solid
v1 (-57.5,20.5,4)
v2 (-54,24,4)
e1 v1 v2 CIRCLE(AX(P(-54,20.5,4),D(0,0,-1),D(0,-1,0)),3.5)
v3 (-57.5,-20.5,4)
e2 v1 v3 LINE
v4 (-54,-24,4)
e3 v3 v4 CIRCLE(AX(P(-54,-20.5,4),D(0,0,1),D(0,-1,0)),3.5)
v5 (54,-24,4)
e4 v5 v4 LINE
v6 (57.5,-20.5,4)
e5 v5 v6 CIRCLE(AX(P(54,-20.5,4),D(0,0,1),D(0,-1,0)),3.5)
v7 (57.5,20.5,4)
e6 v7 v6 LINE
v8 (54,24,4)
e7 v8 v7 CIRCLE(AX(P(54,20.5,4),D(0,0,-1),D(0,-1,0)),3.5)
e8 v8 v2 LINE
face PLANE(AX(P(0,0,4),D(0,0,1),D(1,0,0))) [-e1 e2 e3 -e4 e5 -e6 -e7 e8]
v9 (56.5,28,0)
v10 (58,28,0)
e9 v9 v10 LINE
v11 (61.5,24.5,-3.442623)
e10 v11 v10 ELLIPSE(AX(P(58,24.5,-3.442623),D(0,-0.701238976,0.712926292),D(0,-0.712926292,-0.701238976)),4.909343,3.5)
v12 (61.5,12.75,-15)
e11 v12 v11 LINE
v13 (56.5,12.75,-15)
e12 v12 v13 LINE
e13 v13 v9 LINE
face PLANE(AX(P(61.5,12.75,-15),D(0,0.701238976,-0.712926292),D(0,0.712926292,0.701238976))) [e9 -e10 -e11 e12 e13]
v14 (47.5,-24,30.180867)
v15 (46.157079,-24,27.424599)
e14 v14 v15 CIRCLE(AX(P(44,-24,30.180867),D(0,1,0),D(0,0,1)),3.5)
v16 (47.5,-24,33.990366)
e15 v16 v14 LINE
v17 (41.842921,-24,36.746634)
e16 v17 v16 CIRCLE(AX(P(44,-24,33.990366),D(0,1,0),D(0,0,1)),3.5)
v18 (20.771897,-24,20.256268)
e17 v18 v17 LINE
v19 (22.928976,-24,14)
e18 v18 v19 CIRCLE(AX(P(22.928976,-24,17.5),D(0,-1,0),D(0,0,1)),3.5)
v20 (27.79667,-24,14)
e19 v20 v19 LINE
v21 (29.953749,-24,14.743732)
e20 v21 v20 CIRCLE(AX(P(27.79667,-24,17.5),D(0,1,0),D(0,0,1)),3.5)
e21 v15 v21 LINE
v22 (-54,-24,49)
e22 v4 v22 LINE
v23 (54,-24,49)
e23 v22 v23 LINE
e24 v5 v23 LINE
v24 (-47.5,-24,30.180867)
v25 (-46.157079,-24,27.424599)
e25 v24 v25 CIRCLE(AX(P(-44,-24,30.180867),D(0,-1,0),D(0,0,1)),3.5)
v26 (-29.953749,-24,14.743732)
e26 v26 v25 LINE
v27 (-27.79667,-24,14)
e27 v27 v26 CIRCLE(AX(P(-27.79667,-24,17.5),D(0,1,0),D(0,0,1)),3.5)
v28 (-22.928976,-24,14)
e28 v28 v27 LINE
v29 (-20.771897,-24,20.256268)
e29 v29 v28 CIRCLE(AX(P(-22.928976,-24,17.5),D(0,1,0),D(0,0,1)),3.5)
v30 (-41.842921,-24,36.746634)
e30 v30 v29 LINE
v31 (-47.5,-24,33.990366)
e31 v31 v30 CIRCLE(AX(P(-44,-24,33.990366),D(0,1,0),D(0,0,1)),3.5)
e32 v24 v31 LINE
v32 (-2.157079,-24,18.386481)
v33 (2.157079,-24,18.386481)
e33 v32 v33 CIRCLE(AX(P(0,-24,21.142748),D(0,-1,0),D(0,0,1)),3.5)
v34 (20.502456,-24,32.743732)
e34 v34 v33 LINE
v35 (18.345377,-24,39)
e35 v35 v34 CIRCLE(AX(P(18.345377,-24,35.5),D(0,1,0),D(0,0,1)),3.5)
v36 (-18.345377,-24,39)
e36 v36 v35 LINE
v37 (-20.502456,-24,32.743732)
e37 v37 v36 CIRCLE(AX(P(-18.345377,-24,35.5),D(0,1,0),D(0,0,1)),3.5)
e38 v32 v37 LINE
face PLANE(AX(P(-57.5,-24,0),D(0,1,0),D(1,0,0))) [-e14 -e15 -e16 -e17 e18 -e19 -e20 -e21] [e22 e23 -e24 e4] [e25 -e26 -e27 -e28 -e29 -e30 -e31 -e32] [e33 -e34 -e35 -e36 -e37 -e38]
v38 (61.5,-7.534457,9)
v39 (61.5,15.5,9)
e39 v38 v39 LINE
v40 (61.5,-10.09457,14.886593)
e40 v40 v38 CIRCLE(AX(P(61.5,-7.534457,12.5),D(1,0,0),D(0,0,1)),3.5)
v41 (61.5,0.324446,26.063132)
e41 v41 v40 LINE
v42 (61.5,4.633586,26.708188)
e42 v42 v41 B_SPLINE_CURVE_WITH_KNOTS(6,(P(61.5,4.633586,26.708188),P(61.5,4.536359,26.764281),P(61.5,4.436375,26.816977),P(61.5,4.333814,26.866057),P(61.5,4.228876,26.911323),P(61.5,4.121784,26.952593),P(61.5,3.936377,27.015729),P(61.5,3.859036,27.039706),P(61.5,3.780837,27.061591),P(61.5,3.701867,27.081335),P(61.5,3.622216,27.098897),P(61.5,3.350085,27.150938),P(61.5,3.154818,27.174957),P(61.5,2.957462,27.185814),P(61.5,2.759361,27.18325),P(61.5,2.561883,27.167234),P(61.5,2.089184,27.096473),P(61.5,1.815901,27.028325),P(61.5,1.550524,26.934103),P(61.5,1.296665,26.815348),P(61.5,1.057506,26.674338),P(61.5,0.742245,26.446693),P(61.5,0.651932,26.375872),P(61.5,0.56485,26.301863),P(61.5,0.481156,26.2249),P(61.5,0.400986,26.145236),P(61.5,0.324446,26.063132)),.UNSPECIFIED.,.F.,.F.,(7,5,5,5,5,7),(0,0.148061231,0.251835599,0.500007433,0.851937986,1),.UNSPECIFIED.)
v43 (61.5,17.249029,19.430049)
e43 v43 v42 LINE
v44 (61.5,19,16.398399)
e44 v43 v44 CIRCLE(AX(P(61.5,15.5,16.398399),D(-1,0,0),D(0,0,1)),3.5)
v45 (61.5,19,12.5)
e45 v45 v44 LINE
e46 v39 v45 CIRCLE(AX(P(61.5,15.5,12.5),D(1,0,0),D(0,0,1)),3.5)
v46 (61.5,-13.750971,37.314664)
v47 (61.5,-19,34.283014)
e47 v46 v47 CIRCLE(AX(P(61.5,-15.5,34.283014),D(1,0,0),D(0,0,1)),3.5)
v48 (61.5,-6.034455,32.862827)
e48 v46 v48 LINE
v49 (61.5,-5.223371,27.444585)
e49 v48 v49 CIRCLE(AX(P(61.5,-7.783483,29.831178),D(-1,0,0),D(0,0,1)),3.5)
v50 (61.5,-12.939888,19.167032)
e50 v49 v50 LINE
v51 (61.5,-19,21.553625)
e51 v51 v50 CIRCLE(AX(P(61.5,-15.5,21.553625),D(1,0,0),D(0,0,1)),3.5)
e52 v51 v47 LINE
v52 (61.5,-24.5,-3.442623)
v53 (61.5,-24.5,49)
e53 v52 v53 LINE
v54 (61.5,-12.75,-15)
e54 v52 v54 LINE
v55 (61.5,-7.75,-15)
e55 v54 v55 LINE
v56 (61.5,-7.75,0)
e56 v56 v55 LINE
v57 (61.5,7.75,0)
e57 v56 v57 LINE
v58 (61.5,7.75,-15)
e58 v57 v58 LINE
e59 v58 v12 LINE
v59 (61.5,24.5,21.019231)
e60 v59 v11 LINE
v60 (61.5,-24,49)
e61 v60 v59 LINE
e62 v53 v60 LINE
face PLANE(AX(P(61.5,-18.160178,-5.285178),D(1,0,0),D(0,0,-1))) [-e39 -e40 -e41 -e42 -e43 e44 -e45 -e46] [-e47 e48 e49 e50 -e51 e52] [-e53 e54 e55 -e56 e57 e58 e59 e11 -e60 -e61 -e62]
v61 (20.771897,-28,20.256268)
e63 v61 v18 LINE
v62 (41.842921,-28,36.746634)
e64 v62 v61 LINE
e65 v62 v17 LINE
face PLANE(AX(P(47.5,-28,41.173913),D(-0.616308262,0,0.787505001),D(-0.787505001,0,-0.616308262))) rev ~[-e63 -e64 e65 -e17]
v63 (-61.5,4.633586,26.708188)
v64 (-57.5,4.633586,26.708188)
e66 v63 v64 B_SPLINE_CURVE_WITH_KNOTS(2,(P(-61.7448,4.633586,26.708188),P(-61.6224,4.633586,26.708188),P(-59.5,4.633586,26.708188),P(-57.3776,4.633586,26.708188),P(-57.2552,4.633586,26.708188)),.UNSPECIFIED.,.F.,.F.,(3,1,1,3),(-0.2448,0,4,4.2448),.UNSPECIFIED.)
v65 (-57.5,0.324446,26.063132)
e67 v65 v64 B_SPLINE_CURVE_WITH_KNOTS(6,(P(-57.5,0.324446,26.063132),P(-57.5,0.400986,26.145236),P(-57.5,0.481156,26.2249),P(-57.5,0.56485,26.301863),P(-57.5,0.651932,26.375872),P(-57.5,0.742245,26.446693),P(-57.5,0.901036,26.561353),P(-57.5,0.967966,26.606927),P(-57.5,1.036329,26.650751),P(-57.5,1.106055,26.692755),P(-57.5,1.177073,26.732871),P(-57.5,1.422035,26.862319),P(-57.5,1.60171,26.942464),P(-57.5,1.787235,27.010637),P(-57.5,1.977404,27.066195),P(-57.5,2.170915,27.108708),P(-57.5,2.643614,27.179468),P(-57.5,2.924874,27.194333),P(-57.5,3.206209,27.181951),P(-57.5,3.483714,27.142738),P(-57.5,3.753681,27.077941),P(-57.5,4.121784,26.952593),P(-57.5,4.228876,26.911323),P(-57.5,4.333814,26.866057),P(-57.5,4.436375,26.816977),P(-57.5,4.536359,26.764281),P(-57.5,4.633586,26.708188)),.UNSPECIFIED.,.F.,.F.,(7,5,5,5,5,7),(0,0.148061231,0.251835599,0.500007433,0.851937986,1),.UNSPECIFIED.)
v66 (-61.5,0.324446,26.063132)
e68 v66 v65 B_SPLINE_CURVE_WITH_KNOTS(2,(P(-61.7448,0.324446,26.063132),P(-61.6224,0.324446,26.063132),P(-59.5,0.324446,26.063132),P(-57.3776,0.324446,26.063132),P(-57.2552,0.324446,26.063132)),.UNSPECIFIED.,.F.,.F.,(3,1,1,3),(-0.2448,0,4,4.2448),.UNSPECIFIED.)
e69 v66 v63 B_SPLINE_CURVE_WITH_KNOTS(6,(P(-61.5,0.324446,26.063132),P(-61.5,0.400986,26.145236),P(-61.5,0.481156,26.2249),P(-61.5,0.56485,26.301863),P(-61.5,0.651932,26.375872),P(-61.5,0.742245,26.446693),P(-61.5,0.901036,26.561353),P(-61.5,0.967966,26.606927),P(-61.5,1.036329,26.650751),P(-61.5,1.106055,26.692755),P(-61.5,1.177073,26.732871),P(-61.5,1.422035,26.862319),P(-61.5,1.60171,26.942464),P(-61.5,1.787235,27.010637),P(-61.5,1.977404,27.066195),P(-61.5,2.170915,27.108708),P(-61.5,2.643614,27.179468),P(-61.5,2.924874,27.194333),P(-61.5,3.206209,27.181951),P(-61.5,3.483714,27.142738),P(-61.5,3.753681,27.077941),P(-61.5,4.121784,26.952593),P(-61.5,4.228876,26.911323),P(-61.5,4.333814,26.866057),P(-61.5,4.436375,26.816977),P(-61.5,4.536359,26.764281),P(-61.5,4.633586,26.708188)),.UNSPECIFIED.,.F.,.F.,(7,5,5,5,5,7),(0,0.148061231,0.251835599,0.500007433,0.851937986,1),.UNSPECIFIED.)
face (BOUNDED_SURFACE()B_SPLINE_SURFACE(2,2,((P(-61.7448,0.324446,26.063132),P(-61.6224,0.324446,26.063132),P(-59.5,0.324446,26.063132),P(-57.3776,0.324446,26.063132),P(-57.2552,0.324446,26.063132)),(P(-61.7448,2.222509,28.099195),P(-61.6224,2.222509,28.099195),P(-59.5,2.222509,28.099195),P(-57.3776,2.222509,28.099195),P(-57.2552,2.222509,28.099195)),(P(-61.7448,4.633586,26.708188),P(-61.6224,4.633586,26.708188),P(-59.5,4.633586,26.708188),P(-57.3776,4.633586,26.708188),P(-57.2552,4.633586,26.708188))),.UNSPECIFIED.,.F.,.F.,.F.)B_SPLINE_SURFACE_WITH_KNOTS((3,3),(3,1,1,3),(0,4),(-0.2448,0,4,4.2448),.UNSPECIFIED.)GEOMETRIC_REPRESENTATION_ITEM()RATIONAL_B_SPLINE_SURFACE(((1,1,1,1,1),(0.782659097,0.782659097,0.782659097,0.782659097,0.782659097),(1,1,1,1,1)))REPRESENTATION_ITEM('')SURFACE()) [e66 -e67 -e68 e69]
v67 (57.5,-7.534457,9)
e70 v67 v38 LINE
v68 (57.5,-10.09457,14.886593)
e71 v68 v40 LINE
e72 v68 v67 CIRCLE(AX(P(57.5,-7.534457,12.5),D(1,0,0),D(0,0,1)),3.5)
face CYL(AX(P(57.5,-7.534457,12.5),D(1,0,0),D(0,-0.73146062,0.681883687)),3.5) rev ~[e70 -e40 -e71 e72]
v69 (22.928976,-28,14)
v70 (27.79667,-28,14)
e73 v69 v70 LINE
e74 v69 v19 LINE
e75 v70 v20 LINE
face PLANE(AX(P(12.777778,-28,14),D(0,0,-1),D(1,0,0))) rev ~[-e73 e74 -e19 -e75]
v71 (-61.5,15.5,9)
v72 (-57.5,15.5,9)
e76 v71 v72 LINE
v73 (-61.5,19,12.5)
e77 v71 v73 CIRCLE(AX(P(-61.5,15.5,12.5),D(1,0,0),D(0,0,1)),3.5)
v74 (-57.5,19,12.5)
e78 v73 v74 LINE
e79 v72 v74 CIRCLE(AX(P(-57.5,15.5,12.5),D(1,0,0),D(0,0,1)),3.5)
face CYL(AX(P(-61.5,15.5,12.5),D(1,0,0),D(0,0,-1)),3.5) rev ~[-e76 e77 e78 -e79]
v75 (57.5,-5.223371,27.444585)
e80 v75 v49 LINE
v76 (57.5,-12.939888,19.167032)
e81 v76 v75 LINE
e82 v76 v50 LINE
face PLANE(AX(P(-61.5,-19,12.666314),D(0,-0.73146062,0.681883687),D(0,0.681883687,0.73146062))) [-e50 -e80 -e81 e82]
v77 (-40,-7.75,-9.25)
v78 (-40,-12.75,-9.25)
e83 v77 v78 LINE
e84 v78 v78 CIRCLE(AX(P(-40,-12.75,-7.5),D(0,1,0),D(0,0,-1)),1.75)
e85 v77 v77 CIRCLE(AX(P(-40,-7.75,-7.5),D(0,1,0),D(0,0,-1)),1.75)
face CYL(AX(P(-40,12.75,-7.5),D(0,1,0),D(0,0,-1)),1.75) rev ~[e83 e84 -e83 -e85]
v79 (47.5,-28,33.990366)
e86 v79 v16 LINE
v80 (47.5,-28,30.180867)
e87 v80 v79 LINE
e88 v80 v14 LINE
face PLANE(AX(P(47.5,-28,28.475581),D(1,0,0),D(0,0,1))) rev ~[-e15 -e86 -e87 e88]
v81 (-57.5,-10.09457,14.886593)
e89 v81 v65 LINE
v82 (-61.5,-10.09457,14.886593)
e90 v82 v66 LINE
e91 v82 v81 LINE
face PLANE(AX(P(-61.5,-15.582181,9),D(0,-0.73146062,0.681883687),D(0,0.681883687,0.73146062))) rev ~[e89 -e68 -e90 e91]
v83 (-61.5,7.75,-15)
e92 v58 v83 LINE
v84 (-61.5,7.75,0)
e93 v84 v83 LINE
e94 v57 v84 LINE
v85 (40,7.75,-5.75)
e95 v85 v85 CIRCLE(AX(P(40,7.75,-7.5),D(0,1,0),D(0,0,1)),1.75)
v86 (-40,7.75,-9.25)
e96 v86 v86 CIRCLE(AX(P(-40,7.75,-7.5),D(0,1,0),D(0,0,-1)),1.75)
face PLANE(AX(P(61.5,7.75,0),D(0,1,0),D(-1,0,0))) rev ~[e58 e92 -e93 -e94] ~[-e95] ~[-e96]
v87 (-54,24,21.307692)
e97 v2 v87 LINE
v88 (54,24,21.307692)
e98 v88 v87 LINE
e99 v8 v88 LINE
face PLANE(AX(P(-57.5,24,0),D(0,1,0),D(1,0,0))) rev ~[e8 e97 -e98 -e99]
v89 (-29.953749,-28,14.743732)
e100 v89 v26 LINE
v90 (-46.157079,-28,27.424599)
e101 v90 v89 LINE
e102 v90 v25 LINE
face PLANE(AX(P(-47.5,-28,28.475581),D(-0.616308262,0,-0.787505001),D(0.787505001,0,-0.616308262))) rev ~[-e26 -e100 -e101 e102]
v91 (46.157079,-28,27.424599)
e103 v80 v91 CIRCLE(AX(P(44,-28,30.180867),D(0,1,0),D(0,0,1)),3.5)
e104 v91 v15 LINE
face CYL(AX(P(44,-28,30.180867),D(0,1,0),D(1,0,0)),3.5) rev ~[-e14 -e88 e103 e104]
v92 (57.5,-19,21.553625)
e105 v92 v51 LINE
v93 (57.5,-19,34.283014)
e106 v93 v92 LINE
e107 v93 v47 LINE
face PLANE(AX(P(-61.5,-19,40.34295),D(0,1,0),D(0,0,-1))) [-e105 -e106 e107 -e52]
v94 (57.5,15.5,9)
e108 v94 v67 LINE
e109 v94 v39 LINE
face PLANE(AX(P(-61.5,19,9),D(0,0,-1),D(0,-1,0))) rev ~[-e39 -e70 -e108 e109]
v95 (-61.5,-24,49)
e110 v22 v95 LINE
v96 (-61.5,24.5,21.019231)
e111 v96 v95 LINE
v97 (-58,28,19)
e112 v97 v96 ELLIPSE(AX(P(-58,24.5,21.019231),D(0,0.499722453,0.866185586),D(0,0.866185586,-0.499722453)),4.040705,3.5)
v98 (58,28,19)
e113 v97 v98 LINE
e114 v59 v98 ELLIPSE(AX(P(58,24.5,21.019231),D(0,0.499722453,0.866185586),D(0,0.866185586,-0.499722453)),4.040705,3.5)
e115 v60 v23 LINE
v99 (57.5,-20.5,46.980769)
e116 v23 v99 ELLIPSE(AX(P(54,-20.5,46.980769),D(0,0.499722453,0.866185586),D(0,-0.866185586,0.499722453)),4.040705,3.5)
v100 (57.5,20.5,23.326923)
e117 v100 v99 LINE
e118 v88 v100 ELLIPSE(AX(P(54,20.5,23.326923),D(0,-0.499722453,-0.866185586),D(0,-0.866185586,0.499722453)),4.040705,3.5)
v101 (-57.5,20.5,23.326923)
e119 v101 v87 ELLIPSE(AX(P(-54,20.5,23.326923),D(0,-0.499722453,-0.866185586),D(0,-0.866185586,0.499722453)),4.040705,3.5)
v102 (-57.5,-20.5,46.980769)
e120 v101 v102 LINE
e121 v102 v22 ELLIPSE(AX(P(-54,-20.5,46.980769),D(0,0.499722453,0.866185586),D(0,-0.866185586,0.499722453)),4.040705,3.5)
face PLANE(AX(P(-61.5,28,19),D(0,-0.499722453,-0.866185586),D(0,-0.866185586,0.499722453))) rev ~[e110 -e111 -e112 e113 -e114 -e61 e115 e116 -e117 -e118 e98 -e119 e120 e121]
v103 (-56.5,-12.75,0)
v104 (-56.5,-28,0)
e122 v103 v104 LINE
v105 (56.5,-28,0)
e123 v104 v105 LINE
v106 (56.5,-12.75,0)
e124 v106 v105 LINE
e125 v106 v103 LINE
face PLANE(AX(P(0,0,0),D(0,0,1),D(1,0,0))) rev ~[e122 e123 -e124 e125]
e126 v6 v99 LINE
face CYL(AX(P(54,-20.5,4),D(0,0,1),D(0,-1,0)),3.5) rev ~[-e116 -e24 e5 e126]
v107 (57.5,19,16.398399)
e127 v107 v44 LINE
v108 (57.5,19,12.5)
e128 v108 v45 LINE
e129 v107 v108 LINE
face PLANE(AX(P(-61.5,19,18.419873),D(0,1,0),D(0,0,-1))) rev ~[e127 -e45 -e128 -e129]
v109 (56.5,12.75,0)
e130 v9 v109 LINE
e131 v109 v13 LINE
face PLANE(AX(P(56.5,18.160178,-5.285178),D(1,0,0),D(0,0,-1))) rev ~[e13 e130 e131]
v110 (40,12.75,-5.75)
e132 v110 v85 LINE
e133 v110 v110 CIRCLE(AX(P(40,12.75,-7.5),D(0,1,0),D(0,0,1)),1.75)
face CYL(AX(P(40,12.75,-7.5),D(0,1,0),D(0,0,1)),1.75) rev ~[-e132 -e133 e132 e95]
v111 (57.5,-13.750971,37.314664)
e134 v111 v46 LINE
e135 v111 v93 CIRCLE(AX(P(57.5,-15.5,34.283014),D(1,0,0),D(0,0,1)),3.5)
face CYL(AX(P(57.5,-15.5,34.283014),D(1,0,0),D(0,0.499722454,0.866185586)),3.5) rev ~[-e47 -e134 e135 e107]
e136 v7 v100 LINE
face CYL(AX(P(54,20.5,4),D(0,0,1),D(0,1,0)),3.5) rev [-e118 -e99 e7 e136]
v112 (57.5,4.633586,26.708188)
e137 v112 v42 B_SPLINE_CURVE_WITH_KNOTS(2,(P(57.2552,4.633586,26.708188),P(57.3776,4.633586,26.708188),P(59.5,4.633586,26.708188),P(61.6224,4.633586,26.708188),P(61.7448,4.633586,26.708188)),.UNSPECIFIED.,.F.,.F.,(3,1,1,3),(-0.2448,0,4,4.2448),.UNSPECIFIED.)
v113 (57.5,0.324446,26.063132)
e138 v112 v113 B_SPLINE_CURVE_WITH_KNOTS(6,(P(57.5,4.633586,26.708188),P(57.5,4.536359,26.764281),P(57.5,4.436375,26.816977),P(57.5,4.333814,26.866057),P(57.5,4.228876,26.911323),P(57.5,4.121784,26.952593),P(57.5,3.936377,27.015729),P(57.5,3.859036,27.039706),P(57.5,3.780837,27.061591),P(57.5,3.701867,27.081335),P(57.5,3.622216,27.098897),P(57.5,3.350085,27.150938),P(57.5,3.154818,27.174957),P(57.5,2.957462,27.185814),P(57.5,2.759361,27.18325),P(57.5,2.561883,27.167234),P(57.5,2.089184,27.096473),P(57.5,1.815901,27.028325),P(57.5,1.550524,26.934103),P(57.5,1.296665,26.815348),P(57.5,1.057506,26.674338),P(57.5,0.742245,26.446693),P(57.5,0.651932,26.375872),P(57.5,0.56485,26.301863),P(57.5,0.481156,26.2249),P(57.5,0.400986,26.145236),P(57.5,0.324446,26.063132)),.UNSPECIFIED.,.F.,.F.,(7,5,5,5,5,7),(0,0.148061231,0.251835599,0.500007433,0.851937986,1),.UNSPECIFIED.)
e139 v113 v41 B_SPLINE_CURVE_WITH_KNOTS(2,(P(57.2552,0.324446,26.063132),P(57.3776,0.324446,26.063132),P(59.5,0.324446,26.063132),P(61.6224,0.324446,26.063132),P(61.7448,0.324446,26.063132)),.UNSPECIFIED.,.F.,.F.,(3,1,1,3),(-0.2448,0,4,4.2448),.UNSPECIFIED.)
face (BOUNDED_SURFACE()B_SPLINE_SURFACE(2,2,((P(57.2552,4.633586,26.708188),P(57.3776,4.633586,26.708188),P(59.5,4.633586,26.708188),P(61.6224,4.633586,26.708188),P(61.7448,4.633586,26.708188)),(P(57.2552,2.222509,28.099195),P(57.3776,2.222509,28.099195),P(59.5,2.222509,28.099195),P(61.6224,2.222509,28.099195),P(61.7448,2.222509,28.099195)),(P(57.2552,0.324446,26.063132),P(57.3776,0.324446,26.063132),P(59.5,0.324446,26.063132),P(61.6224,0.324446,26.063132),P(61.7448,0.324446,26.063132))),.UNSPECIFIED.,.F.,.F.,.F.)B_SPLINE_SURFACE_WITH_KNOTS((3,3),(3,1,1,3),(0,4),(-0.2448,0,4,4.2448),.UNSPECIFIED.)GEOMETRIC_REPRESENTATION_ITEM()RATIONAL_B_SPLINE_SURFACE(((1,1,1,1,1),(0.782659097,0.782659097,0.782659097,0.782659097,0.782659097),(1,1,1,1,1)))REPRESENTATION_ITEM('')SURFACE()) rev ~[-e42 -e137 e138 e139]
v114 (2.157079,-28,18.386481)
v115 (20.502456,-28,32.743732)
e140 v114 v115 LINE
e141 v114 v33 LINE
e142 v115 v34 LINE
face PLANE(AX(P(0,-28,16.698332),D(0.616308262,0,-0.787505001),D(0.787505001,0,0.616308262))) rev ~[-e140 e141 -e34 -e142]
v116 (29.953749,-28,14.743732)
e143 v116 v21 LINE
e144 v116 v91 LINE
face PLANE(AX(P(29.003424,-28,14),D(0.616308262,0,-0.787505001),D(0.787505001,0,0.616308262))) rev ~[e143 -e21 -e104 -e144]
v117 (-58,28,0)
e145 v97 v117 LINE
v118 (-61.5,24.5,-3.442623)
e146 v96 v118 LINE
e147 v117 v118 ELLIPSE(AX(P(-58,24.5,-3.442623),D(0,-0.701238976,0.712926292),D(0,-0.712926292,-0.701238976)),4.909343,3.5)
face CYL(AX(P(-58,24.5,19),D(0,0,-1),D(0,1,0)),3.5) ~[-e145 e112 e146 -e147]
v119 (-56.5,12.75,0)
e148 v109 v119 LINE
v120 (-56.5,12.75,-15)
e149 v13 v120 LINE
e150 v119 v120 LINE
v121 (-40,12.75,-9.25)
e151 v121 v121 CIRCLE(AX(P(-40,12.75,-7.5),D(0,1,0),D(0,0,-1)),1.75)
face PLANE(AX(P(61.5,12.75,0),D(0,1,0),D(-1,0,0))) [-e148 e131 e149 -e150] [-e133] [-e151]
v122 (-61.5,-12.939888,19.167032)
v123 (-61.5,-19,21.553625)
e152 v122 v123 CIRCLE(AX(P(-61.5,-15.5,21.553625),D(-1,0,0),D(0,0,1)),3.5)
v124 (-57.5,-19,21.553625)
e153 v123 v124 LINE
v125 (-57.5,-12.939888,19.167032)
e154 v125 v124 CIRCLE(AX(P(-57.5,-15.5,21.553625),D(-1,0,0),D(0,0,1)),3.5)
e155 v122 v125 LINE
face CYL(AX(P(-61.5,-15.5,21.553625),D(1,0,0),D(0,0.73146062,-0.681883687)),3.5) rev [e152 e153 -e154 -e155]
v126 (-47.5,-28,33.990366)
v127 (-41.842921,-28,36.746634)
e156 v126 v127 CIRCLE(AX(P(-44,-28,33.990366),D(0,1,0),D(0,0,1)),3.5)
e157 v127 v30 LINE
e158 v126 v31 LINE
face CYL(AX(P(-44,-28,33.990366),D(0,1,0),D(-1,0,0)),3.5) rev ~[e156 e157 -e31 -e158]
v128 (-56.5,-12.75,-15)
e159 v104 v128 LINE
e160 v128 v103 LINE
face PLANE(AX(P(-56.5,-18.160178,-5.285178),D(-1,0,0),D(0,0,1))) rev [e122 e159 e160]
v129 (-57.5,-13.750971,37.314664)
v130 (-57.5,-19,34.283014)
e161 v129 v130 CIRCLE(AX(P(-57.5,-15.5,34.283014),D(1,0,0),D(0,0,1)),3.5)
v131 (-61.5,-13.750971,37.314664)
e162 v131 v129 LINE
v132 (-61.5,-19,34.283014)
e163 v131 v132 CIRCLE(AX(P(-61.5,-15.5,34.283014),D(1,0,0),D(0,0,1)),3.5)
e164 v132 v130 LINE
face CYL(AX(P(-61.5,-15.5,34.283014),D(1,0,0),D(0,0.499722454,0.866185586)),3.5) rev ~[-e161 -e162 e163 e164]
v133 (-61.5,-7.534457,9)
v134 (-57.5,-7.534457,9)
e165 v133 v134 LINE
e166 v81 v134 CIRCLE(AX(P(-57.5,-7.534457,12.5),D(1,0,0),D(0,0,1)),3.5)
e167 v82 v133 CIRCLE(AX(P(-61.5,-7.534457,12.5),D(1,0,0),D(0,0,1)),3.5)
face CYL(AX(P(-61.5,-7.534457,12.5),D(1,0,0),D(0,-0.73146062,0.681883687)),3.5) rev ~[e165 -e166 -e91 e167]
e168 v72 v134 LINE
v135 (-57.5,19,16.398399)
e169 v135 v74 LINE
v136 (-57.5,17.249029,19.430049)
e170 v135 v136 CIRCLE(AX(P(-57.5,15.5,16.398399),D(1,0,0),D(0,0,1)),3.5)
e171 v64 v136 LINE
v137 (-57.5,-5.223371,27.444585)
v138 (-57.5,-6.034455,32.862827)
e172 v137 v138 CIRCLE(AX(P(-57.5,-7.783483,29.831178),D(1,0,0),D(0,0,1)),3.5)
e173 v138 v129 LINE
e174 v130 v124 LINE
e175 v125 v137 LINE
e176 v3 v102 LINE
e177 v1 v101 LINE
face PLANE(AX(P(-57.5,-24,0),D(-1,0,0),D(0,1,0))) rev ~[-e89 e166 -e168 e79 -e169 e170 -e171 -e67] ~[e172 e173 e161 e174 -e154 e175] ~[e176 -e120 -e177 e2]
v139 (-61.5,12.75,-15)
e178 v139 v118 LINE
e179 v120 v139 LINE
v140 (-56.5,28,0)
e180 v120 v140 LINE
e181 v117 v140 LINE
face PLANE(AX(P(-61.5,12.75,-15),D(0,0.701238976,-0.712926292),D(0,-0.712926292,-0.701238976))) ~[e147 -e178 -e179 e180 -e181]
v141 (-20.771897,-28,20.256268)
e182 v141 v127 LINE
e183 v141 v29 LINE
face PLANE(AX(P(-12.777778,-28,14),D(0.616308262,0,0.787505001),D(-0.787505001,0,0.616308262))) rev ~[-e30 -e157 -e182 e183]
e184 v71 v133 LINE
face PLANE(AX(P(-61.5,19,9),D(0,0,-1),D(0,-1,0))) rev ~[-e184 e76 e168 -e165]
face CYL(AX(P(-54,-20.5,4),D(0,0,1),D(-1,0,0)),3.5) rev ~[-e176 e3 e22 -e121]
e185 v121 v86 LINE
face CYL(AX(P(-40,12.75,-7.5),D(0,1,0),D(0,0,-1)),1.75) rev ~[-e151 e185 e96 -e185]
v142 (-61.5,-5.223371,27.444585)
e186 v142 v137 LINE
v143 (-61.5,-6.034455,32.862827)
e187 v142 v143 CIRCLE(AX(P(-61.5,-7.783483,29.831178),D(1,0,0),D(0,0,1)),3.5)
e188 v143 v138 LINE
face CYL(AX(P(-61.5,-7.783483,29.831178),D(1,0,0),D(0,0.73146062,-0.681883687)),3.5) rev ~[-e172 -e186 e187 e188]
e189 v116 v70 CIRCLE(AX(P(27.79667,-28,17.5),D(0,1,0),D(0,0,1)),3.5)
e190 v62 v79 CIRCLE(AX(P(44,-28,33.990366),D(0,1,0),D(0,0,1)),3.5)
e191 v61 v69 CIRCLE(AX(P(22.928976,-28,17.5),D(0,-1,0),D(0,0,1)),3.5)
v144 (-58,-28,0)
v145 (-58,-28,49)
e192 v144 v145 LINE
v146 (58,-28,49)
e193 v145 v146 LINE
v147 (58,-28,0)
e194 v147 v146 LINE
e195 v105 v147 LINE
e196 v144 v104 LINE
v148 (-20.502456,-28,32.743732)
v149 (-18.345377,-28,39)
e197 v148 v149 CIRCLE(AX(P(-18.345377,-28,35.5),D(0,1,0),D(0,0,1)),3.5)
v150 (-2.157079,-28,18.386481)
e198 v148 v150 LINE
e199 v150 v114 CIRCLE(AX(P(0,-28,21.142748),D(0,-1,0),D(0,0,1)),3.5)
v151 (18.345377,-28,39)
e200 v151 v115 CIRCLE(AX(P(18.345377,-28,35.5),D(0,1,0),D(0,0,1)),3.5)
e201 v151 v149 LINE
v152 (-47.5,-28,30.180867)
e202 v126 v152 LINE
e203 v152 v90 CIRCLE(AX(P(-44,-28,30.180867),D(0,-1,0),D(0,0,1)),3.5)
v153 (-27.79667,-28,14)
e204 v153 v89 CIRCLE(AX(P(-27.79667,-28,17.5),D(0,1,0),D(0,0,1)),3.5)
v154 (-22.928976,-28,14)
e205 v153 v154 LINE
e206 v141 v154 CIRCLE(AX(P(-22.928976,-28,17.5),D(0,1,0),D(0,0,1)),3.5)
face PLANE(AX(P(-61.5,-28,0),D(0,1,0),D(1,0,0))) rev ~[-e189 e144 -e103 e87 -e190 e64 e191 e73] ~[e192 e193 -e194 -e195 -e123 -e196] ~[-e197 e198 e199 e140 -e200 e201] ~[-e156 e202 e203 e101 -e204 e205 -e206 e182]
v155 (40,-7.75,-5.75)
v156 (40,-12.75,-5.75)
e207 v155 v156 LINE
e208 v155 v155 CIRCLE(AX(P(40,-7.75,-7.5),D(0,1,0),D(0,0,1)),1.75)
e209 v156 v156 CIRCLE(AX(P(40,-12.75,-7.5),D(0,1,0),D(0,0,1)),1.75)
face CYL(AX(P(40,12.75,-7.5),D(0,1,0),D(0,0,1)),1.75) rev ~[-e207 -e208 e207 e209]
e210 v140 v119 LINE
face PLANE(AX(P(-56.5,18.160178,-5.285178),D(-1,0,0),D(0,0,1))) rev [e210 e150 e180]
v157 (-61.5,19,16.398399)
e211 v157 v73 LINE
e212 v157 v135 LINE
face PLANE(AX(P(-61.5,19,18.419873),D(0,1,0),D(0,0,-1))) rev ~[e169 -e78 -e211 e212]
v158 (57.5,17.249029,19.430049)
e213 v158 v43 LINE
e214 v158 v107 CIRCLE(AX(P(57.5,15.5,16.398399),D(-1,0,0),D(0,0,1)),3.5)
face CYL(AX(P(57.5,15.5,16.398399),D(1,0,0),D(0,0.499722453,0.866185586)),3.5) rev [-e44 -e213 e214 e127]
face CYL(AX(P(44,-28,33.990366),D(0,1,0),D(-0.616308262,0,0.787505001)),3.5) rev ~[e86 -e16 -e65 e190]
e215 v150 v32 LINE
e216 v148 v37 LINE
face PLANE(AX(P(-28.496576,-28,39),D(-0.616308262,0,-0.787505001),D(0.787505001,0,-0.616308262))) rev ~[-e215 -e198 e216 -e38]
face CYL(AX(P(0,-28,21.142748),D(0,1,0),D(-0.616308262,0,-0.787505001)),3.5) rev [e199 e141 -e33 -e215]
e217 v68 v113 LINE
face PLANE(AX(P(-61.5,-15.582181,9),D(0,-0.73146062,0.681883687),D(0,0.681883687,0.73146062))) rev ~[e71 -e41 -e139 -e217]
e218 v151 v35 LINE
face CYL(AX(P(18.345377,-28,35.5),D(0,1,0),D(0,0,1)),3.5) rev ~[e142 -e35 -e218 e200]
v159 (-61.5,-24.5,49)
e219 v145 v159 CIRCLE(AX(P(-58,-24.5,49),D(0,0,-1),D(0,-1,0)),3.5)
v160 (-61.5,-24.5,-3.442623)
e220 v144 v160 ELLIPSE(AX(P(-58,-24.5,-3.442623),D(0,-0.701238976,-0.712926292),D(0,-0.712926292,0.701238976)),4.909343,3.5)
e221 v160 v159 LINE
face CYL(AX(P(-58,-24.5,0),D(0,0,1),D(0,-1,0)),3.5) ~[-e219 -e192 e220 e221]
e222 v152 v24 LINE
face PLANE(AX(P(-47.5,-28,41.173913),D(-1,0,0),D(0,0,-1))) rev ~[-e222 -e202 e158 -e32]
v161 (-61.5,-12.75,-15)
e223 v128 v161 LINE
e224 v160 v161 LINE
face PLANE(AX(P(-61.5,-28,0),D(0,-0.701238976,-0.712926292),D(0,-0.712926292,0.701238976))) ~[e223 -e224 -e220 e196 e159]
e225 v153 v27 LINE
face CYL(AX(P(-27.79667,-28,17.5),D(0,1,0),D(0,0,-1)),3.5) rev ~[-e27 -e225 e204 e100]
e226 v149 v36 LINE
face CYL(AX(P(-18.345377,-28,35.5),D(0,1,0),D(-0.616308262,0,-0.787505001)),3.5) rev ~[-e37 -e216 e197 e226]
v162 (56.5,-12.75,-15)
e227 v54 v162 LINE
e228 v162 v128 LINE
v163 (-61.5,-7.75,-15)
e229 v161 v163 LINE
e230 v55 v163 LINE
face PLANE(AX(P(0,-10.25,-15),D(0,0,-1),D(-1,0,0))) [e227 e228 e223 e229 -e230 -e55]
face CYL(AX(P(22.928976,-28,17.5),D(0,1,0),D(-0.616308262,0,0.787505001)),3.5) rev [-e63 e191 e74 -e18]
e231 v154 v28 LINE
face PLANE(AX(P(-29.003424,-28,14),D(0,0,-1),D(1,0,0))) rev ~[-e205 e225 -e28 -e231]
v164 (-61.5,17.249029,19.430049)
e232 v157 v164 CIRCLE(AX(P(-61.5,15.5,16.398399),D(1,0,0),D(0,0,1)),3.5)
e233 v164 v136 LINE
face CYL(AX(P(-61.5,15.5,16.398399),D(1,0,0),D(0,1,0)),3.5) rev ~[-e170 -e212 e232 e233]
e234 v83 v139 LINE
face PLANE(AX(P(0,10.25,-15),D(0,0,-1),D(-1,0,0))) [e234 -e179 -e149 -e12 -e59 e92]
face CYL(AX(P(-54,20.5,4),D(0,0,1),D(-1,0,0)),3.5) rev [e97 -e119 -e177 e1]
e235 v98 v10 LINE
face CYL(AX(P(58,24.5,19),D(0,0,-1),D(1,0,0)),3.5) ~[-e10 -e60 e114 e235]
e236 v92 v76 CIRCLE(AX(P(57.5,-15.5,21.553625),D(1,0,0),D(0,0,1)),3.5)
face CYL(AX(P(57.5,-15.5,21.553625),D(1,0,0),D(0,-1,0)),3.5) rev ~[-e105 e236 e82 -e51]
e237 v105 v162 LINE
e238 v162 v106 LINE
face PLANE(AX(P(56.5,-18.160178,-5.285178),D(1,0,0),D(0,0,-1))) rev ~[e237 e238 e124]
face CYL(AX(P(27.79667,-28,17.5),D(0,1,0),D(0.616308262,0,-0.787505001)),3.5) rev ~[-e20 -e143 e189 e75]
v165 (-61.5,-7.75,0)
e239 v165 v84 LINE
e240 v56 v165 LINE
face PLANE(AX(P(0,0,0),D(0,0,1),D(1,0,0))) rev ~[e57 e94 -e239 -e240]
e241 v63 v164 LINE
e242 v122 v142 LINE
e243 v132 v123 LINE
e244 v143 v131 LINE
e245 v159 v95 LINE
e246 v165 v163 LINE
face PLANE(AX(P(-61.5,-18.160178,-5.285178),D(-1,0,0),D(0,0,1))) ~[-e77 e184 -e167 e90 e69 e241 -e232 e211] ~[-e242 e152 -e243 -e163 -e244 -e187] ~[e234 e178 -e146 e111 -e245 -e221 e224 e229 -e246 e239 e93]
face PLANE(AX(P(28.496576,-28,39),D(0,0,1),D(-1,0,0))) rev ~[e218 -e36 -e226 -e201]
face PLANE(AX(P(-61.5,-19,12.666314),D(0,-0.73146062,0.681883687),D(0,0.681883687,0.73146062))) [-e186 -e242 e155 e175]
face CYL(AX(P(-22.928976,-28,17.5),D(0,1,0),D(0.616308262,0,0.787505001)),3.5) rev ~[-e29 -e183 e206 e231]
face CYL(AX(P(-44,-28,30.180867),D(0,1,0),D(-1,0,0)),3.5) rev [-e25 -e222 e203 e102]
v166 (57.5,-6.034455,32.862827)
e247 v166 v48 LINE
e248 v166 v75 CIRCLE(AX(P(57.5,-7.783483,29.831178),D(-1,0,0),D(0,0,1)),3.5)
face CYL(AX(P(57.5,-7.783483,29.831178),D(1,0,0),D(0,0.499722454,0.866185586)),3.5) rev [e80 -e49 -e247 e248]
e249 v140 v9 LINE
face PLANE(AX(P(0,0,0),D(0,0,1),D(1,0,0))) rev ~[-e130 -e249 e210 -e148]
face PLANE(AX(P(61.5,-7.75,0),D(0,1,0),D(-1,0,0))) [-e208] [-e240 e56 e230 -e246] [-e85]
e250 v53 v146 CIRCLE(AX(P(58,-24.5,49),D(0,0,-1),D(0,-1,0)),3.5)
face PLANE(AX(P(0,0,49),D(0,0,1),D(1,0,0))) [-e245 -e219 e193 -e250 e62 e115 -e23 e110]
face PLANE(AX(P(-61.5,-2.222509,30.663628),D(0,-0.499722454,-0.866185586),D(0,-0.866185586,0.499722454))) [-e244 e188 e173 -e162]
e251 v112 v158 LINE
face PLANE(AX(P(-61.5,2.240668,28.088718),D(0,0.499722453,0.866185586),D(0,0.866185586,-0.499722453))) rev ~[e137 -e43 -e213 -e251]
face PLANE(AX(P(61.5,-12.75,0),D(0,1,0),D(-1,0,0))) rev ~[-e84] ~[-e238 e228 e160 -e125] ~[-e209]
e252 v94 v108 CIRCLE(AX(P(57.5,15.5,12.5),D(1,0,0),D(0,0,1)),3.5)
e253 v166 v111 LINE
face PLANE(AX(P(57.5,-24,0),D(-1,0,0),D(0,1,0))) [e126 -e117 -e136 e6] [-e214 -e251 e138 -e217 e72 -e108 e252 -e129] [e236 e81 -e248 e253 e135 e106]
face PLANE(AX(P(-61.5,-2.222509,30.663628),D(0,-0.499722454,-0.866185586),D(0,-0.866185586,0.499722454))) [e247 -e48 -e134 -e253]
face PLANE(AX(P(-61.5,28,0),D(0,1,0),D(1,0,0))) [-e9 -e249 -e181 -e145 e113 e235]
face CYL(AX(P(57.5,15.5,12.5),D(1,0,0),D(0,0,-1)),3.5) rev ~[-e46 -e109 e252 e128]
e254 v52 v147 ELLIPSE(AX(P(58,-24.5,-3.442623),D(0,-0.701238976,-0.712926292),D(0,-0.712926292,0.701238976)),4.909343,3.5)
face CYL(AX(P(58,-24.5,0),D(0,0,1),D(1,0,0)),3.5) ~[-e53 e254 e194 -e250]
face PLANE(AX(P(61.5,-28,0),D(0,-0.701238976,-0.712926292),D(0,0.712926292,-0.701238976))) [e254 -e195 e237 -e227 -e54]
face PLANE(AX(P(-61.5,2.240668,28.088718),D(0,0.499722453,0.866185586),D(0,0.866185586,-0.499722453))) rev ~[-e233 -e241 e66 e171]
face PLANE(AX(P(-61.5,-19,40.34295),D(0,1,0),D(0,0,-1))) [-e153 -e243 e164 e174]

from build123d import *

# Parameters (mm, degrees)
SKETCH1_W           = 123
SKETCH1_H           = 56
BOSS_EXTRUDE1_DEPTH = 4
SKETCH1_3_W         = 123
SKETCH1_3_H         = 56
SKETCH1_3_W_2       = 115
SKETCH1_3_H_2       = 48
BOSS_EXTRUDE2_DEPTH = 49
SKETCH2_W           = 123
SKETCH2_H           = 5
BOSS_EXTRUDE3_DEPTH = 15
BOSS_EXTRUDE4_DEPTH = 5
CUT_EXTRUDE1_DEPTH  = 136.329228181
CUT_EXTRUDE2_DEPTH  = 136.329228181
CUT_EXTRUDE3_DEPTH  = 5
FILLET5_R           = 3.5
FILLET6_R           = 3.5
FILLET7_R           = 3.5
FILLET8_R           = 3.5
SKETCH8_R           = 1.75
CUT_EXTRUDE4_DEPTH  = 89.565300892


with BuildPart() as part:
    # Sketch1 → Boss-Extrude1 (new body)
    with BuildSketch(Plane.XY):
        Rectangle(SKETCH1_W, SKETCH1_H)
    extrude(amount=BOSS_EXTRUDE1_DEPTH)

    # Sketch1<3> → Boss-Extrude2 (add)
    with BuildSketch(Plane.XY):
        Rectangle(SKETCH1_3_W, SKETCH1_3_H)
        Rectangle(SKETCH1_3_W_2, SKETCH1_3_H_2, mode=Mode.SUBTRACT)
    extrude(amount=BOSS_EXTRUDE2_DEPTH)

    # Sketch2 → Boss-Extrude3 (add)
    with BuildSketch(Plane(origin=(0, 0, 0), x_dir=(-1, 0, 0), z_dir=(0, 0, -1))):
        with Locations((0, 10.25)):
            Rectangle(SKETCH2_W, SKETCH2_H)
        with Locations((0, -10.25)):
            Rectangle(SKETCH2_W, SKETCH2_H)
    extrude(amount=BOSS_EXTRUDE3_DEPTH)

    # Sketch3 → Boss-Extrude4 (add)
    with BuildSketch(Plane(origin=(61.5, 0, 0), x_dir=(0, 0, -1), z_dir=(1, 0, 0))):
        Polygon((0, -28), (15, -12.75), (0, -12.75), align=None)
        Polygon((15, 12.75), (0, 28), (0, 12.75), align=None)
    boss_extrude4 = extrude(amount=-BOSS_EXTRUDE4_DEPTH)

    # Mirror1: Boss-Extrude4 across plane
    add(boss_extrude4.mirror(Plane.ZY))

    # Sketch4 → Cut-Extrude1 (cut, through all)
    with BuildSketch(Plane.ZY.offset(61.5)):
        Polygon((19, 28), (49, -24), (49, 24), (49, 28), align=None)
    extrude(amount=-CUT_EXTRUDE1_DEPTH, mode=Mode.SUBTRACT)

    # Sketch6 → Cut-Extrude2 (cut, through all)
    with BuildSketch(Plane.ZY.offset(61.5)):
        Polygon((12.66631443, -19), (40.342949608, -19), (30.66362763, -2.222508572), align=None)
        Polygon((28.088718183, 2.240667802), (18.419872685, 19), (9, 19), (9, -15.582181004), (27.67670193, 1.828651549), align=None)
    extrude(amount=-CUT_EXTRUDE2_DEPTH, mode=Mode.SUBTRACT)

    # Sketch7 → Cut-Extrude3 (cut)
    with BuildSketch(Plane.XZ.offset(28)):
        Polygon((-12.777777778, 14), (-47.5, 41.173913043), (-47.5, 28.475580986), (-29.003424296, 14), align=None)
        Polygon((47.5, 41.173913043), (12.777777778, 14), (29.003424296, 14), (47.5, 28.475580986), align=None)
        Polygon((-28.496575704, 39), (0, 16.698332058), (28.496575704, 39), align=None)
    extrude(amount=-CUT_EXTRUDE3_DEPTH, mode=Mode.SUBTRACT)

    # Fillet5
    fillet5_edges = [part.edges().sort_by_distance(p)[0] for p in [
        (-12.777777778, -26, 14),
        (12.777777778, -26, 14),
        (47.5, -26, 41.173913043),
        (28.496575704, -26, 39),
        (-47.5, -26, 41.173913043),
        (-47.5, -26, 28.475580986),
        (-28.496575704, -26, 39),
        (47.5, -26, 28.475580986),
        (29.003424296, -26, 14),
        (0, -26, 16.698332058),
        (-29.003424296, -26, 14),
    ]]
    fillet(fillet5_edges, radius=FILLET5_R)

    # Fillet6
    fillet6_edges = [part.edges().sort_by_distance(p)[0] for p in [
        (-59.5, 19, 18.419872685),
        (-59.5, 19, 9),
        (-59.5, -15.582181004, 9),
        (-59.5, -19, 12.66631443),
        (-59.5, -19, 40.342949608),
        (-59.5, -2.222508572, 30.66362763),
        (-59.5, 2.240667802, 28.088718183),
        (59.5, -2.222508572, 30.66362763),
        (59.5, 2.240667802, 28.088718183),
        (59.5, -19, 40.342949608),
        (59.5, 19, 9),
        (59.5, 19, 18.419872685),
        (59.5, -19, 12.66631443),
        (59.5, -15.582181004, 9),
    ]]
    fillet(fillet6_edges, radius=FILLET6_R)

    # Fillet7
    fillet7_edges = [part.edges().sort_by_distance(p)[0] for p in [
        (-57.5, 24, 12.653846154),
        (-57.5, -24, 26.5),
        (57.5, 24, 12.653846154),
        (57.5, -24, 26.5),
    ]]
    fillet(fillet7_edges, radius=FILLET7_R)

    # Fillet8
    fillet8_edges = [part.edges().sort_by_distance(p)[0] for p in [
        (-61.5, -28, 24.5),
        (61.5, -28, 24.5),
        (61.5, 28, 9.5),
        (-61.5, 28, 9.5),
    ]]
    fillet(fillet8_edges, radius=FILLET8_R)

    # Sketch8 → Cut-Extrude4 (cut, through all)
    with BuildSketch(Plane(origin=(0, 12.75, 0), x_dir=(1, 0, 0), z_dir=(0, 1, 0))):
        with Locations((40, 7.5)):
            Circle(SKETCH8_R)
        with Locations((-40, 7.5)):
            Circle(SKETCH8_R)
    extrude(amount=-CUT_EXTRUDE4_DEPTH, mode=Mode.SUBTRACT)


solid = part.part
